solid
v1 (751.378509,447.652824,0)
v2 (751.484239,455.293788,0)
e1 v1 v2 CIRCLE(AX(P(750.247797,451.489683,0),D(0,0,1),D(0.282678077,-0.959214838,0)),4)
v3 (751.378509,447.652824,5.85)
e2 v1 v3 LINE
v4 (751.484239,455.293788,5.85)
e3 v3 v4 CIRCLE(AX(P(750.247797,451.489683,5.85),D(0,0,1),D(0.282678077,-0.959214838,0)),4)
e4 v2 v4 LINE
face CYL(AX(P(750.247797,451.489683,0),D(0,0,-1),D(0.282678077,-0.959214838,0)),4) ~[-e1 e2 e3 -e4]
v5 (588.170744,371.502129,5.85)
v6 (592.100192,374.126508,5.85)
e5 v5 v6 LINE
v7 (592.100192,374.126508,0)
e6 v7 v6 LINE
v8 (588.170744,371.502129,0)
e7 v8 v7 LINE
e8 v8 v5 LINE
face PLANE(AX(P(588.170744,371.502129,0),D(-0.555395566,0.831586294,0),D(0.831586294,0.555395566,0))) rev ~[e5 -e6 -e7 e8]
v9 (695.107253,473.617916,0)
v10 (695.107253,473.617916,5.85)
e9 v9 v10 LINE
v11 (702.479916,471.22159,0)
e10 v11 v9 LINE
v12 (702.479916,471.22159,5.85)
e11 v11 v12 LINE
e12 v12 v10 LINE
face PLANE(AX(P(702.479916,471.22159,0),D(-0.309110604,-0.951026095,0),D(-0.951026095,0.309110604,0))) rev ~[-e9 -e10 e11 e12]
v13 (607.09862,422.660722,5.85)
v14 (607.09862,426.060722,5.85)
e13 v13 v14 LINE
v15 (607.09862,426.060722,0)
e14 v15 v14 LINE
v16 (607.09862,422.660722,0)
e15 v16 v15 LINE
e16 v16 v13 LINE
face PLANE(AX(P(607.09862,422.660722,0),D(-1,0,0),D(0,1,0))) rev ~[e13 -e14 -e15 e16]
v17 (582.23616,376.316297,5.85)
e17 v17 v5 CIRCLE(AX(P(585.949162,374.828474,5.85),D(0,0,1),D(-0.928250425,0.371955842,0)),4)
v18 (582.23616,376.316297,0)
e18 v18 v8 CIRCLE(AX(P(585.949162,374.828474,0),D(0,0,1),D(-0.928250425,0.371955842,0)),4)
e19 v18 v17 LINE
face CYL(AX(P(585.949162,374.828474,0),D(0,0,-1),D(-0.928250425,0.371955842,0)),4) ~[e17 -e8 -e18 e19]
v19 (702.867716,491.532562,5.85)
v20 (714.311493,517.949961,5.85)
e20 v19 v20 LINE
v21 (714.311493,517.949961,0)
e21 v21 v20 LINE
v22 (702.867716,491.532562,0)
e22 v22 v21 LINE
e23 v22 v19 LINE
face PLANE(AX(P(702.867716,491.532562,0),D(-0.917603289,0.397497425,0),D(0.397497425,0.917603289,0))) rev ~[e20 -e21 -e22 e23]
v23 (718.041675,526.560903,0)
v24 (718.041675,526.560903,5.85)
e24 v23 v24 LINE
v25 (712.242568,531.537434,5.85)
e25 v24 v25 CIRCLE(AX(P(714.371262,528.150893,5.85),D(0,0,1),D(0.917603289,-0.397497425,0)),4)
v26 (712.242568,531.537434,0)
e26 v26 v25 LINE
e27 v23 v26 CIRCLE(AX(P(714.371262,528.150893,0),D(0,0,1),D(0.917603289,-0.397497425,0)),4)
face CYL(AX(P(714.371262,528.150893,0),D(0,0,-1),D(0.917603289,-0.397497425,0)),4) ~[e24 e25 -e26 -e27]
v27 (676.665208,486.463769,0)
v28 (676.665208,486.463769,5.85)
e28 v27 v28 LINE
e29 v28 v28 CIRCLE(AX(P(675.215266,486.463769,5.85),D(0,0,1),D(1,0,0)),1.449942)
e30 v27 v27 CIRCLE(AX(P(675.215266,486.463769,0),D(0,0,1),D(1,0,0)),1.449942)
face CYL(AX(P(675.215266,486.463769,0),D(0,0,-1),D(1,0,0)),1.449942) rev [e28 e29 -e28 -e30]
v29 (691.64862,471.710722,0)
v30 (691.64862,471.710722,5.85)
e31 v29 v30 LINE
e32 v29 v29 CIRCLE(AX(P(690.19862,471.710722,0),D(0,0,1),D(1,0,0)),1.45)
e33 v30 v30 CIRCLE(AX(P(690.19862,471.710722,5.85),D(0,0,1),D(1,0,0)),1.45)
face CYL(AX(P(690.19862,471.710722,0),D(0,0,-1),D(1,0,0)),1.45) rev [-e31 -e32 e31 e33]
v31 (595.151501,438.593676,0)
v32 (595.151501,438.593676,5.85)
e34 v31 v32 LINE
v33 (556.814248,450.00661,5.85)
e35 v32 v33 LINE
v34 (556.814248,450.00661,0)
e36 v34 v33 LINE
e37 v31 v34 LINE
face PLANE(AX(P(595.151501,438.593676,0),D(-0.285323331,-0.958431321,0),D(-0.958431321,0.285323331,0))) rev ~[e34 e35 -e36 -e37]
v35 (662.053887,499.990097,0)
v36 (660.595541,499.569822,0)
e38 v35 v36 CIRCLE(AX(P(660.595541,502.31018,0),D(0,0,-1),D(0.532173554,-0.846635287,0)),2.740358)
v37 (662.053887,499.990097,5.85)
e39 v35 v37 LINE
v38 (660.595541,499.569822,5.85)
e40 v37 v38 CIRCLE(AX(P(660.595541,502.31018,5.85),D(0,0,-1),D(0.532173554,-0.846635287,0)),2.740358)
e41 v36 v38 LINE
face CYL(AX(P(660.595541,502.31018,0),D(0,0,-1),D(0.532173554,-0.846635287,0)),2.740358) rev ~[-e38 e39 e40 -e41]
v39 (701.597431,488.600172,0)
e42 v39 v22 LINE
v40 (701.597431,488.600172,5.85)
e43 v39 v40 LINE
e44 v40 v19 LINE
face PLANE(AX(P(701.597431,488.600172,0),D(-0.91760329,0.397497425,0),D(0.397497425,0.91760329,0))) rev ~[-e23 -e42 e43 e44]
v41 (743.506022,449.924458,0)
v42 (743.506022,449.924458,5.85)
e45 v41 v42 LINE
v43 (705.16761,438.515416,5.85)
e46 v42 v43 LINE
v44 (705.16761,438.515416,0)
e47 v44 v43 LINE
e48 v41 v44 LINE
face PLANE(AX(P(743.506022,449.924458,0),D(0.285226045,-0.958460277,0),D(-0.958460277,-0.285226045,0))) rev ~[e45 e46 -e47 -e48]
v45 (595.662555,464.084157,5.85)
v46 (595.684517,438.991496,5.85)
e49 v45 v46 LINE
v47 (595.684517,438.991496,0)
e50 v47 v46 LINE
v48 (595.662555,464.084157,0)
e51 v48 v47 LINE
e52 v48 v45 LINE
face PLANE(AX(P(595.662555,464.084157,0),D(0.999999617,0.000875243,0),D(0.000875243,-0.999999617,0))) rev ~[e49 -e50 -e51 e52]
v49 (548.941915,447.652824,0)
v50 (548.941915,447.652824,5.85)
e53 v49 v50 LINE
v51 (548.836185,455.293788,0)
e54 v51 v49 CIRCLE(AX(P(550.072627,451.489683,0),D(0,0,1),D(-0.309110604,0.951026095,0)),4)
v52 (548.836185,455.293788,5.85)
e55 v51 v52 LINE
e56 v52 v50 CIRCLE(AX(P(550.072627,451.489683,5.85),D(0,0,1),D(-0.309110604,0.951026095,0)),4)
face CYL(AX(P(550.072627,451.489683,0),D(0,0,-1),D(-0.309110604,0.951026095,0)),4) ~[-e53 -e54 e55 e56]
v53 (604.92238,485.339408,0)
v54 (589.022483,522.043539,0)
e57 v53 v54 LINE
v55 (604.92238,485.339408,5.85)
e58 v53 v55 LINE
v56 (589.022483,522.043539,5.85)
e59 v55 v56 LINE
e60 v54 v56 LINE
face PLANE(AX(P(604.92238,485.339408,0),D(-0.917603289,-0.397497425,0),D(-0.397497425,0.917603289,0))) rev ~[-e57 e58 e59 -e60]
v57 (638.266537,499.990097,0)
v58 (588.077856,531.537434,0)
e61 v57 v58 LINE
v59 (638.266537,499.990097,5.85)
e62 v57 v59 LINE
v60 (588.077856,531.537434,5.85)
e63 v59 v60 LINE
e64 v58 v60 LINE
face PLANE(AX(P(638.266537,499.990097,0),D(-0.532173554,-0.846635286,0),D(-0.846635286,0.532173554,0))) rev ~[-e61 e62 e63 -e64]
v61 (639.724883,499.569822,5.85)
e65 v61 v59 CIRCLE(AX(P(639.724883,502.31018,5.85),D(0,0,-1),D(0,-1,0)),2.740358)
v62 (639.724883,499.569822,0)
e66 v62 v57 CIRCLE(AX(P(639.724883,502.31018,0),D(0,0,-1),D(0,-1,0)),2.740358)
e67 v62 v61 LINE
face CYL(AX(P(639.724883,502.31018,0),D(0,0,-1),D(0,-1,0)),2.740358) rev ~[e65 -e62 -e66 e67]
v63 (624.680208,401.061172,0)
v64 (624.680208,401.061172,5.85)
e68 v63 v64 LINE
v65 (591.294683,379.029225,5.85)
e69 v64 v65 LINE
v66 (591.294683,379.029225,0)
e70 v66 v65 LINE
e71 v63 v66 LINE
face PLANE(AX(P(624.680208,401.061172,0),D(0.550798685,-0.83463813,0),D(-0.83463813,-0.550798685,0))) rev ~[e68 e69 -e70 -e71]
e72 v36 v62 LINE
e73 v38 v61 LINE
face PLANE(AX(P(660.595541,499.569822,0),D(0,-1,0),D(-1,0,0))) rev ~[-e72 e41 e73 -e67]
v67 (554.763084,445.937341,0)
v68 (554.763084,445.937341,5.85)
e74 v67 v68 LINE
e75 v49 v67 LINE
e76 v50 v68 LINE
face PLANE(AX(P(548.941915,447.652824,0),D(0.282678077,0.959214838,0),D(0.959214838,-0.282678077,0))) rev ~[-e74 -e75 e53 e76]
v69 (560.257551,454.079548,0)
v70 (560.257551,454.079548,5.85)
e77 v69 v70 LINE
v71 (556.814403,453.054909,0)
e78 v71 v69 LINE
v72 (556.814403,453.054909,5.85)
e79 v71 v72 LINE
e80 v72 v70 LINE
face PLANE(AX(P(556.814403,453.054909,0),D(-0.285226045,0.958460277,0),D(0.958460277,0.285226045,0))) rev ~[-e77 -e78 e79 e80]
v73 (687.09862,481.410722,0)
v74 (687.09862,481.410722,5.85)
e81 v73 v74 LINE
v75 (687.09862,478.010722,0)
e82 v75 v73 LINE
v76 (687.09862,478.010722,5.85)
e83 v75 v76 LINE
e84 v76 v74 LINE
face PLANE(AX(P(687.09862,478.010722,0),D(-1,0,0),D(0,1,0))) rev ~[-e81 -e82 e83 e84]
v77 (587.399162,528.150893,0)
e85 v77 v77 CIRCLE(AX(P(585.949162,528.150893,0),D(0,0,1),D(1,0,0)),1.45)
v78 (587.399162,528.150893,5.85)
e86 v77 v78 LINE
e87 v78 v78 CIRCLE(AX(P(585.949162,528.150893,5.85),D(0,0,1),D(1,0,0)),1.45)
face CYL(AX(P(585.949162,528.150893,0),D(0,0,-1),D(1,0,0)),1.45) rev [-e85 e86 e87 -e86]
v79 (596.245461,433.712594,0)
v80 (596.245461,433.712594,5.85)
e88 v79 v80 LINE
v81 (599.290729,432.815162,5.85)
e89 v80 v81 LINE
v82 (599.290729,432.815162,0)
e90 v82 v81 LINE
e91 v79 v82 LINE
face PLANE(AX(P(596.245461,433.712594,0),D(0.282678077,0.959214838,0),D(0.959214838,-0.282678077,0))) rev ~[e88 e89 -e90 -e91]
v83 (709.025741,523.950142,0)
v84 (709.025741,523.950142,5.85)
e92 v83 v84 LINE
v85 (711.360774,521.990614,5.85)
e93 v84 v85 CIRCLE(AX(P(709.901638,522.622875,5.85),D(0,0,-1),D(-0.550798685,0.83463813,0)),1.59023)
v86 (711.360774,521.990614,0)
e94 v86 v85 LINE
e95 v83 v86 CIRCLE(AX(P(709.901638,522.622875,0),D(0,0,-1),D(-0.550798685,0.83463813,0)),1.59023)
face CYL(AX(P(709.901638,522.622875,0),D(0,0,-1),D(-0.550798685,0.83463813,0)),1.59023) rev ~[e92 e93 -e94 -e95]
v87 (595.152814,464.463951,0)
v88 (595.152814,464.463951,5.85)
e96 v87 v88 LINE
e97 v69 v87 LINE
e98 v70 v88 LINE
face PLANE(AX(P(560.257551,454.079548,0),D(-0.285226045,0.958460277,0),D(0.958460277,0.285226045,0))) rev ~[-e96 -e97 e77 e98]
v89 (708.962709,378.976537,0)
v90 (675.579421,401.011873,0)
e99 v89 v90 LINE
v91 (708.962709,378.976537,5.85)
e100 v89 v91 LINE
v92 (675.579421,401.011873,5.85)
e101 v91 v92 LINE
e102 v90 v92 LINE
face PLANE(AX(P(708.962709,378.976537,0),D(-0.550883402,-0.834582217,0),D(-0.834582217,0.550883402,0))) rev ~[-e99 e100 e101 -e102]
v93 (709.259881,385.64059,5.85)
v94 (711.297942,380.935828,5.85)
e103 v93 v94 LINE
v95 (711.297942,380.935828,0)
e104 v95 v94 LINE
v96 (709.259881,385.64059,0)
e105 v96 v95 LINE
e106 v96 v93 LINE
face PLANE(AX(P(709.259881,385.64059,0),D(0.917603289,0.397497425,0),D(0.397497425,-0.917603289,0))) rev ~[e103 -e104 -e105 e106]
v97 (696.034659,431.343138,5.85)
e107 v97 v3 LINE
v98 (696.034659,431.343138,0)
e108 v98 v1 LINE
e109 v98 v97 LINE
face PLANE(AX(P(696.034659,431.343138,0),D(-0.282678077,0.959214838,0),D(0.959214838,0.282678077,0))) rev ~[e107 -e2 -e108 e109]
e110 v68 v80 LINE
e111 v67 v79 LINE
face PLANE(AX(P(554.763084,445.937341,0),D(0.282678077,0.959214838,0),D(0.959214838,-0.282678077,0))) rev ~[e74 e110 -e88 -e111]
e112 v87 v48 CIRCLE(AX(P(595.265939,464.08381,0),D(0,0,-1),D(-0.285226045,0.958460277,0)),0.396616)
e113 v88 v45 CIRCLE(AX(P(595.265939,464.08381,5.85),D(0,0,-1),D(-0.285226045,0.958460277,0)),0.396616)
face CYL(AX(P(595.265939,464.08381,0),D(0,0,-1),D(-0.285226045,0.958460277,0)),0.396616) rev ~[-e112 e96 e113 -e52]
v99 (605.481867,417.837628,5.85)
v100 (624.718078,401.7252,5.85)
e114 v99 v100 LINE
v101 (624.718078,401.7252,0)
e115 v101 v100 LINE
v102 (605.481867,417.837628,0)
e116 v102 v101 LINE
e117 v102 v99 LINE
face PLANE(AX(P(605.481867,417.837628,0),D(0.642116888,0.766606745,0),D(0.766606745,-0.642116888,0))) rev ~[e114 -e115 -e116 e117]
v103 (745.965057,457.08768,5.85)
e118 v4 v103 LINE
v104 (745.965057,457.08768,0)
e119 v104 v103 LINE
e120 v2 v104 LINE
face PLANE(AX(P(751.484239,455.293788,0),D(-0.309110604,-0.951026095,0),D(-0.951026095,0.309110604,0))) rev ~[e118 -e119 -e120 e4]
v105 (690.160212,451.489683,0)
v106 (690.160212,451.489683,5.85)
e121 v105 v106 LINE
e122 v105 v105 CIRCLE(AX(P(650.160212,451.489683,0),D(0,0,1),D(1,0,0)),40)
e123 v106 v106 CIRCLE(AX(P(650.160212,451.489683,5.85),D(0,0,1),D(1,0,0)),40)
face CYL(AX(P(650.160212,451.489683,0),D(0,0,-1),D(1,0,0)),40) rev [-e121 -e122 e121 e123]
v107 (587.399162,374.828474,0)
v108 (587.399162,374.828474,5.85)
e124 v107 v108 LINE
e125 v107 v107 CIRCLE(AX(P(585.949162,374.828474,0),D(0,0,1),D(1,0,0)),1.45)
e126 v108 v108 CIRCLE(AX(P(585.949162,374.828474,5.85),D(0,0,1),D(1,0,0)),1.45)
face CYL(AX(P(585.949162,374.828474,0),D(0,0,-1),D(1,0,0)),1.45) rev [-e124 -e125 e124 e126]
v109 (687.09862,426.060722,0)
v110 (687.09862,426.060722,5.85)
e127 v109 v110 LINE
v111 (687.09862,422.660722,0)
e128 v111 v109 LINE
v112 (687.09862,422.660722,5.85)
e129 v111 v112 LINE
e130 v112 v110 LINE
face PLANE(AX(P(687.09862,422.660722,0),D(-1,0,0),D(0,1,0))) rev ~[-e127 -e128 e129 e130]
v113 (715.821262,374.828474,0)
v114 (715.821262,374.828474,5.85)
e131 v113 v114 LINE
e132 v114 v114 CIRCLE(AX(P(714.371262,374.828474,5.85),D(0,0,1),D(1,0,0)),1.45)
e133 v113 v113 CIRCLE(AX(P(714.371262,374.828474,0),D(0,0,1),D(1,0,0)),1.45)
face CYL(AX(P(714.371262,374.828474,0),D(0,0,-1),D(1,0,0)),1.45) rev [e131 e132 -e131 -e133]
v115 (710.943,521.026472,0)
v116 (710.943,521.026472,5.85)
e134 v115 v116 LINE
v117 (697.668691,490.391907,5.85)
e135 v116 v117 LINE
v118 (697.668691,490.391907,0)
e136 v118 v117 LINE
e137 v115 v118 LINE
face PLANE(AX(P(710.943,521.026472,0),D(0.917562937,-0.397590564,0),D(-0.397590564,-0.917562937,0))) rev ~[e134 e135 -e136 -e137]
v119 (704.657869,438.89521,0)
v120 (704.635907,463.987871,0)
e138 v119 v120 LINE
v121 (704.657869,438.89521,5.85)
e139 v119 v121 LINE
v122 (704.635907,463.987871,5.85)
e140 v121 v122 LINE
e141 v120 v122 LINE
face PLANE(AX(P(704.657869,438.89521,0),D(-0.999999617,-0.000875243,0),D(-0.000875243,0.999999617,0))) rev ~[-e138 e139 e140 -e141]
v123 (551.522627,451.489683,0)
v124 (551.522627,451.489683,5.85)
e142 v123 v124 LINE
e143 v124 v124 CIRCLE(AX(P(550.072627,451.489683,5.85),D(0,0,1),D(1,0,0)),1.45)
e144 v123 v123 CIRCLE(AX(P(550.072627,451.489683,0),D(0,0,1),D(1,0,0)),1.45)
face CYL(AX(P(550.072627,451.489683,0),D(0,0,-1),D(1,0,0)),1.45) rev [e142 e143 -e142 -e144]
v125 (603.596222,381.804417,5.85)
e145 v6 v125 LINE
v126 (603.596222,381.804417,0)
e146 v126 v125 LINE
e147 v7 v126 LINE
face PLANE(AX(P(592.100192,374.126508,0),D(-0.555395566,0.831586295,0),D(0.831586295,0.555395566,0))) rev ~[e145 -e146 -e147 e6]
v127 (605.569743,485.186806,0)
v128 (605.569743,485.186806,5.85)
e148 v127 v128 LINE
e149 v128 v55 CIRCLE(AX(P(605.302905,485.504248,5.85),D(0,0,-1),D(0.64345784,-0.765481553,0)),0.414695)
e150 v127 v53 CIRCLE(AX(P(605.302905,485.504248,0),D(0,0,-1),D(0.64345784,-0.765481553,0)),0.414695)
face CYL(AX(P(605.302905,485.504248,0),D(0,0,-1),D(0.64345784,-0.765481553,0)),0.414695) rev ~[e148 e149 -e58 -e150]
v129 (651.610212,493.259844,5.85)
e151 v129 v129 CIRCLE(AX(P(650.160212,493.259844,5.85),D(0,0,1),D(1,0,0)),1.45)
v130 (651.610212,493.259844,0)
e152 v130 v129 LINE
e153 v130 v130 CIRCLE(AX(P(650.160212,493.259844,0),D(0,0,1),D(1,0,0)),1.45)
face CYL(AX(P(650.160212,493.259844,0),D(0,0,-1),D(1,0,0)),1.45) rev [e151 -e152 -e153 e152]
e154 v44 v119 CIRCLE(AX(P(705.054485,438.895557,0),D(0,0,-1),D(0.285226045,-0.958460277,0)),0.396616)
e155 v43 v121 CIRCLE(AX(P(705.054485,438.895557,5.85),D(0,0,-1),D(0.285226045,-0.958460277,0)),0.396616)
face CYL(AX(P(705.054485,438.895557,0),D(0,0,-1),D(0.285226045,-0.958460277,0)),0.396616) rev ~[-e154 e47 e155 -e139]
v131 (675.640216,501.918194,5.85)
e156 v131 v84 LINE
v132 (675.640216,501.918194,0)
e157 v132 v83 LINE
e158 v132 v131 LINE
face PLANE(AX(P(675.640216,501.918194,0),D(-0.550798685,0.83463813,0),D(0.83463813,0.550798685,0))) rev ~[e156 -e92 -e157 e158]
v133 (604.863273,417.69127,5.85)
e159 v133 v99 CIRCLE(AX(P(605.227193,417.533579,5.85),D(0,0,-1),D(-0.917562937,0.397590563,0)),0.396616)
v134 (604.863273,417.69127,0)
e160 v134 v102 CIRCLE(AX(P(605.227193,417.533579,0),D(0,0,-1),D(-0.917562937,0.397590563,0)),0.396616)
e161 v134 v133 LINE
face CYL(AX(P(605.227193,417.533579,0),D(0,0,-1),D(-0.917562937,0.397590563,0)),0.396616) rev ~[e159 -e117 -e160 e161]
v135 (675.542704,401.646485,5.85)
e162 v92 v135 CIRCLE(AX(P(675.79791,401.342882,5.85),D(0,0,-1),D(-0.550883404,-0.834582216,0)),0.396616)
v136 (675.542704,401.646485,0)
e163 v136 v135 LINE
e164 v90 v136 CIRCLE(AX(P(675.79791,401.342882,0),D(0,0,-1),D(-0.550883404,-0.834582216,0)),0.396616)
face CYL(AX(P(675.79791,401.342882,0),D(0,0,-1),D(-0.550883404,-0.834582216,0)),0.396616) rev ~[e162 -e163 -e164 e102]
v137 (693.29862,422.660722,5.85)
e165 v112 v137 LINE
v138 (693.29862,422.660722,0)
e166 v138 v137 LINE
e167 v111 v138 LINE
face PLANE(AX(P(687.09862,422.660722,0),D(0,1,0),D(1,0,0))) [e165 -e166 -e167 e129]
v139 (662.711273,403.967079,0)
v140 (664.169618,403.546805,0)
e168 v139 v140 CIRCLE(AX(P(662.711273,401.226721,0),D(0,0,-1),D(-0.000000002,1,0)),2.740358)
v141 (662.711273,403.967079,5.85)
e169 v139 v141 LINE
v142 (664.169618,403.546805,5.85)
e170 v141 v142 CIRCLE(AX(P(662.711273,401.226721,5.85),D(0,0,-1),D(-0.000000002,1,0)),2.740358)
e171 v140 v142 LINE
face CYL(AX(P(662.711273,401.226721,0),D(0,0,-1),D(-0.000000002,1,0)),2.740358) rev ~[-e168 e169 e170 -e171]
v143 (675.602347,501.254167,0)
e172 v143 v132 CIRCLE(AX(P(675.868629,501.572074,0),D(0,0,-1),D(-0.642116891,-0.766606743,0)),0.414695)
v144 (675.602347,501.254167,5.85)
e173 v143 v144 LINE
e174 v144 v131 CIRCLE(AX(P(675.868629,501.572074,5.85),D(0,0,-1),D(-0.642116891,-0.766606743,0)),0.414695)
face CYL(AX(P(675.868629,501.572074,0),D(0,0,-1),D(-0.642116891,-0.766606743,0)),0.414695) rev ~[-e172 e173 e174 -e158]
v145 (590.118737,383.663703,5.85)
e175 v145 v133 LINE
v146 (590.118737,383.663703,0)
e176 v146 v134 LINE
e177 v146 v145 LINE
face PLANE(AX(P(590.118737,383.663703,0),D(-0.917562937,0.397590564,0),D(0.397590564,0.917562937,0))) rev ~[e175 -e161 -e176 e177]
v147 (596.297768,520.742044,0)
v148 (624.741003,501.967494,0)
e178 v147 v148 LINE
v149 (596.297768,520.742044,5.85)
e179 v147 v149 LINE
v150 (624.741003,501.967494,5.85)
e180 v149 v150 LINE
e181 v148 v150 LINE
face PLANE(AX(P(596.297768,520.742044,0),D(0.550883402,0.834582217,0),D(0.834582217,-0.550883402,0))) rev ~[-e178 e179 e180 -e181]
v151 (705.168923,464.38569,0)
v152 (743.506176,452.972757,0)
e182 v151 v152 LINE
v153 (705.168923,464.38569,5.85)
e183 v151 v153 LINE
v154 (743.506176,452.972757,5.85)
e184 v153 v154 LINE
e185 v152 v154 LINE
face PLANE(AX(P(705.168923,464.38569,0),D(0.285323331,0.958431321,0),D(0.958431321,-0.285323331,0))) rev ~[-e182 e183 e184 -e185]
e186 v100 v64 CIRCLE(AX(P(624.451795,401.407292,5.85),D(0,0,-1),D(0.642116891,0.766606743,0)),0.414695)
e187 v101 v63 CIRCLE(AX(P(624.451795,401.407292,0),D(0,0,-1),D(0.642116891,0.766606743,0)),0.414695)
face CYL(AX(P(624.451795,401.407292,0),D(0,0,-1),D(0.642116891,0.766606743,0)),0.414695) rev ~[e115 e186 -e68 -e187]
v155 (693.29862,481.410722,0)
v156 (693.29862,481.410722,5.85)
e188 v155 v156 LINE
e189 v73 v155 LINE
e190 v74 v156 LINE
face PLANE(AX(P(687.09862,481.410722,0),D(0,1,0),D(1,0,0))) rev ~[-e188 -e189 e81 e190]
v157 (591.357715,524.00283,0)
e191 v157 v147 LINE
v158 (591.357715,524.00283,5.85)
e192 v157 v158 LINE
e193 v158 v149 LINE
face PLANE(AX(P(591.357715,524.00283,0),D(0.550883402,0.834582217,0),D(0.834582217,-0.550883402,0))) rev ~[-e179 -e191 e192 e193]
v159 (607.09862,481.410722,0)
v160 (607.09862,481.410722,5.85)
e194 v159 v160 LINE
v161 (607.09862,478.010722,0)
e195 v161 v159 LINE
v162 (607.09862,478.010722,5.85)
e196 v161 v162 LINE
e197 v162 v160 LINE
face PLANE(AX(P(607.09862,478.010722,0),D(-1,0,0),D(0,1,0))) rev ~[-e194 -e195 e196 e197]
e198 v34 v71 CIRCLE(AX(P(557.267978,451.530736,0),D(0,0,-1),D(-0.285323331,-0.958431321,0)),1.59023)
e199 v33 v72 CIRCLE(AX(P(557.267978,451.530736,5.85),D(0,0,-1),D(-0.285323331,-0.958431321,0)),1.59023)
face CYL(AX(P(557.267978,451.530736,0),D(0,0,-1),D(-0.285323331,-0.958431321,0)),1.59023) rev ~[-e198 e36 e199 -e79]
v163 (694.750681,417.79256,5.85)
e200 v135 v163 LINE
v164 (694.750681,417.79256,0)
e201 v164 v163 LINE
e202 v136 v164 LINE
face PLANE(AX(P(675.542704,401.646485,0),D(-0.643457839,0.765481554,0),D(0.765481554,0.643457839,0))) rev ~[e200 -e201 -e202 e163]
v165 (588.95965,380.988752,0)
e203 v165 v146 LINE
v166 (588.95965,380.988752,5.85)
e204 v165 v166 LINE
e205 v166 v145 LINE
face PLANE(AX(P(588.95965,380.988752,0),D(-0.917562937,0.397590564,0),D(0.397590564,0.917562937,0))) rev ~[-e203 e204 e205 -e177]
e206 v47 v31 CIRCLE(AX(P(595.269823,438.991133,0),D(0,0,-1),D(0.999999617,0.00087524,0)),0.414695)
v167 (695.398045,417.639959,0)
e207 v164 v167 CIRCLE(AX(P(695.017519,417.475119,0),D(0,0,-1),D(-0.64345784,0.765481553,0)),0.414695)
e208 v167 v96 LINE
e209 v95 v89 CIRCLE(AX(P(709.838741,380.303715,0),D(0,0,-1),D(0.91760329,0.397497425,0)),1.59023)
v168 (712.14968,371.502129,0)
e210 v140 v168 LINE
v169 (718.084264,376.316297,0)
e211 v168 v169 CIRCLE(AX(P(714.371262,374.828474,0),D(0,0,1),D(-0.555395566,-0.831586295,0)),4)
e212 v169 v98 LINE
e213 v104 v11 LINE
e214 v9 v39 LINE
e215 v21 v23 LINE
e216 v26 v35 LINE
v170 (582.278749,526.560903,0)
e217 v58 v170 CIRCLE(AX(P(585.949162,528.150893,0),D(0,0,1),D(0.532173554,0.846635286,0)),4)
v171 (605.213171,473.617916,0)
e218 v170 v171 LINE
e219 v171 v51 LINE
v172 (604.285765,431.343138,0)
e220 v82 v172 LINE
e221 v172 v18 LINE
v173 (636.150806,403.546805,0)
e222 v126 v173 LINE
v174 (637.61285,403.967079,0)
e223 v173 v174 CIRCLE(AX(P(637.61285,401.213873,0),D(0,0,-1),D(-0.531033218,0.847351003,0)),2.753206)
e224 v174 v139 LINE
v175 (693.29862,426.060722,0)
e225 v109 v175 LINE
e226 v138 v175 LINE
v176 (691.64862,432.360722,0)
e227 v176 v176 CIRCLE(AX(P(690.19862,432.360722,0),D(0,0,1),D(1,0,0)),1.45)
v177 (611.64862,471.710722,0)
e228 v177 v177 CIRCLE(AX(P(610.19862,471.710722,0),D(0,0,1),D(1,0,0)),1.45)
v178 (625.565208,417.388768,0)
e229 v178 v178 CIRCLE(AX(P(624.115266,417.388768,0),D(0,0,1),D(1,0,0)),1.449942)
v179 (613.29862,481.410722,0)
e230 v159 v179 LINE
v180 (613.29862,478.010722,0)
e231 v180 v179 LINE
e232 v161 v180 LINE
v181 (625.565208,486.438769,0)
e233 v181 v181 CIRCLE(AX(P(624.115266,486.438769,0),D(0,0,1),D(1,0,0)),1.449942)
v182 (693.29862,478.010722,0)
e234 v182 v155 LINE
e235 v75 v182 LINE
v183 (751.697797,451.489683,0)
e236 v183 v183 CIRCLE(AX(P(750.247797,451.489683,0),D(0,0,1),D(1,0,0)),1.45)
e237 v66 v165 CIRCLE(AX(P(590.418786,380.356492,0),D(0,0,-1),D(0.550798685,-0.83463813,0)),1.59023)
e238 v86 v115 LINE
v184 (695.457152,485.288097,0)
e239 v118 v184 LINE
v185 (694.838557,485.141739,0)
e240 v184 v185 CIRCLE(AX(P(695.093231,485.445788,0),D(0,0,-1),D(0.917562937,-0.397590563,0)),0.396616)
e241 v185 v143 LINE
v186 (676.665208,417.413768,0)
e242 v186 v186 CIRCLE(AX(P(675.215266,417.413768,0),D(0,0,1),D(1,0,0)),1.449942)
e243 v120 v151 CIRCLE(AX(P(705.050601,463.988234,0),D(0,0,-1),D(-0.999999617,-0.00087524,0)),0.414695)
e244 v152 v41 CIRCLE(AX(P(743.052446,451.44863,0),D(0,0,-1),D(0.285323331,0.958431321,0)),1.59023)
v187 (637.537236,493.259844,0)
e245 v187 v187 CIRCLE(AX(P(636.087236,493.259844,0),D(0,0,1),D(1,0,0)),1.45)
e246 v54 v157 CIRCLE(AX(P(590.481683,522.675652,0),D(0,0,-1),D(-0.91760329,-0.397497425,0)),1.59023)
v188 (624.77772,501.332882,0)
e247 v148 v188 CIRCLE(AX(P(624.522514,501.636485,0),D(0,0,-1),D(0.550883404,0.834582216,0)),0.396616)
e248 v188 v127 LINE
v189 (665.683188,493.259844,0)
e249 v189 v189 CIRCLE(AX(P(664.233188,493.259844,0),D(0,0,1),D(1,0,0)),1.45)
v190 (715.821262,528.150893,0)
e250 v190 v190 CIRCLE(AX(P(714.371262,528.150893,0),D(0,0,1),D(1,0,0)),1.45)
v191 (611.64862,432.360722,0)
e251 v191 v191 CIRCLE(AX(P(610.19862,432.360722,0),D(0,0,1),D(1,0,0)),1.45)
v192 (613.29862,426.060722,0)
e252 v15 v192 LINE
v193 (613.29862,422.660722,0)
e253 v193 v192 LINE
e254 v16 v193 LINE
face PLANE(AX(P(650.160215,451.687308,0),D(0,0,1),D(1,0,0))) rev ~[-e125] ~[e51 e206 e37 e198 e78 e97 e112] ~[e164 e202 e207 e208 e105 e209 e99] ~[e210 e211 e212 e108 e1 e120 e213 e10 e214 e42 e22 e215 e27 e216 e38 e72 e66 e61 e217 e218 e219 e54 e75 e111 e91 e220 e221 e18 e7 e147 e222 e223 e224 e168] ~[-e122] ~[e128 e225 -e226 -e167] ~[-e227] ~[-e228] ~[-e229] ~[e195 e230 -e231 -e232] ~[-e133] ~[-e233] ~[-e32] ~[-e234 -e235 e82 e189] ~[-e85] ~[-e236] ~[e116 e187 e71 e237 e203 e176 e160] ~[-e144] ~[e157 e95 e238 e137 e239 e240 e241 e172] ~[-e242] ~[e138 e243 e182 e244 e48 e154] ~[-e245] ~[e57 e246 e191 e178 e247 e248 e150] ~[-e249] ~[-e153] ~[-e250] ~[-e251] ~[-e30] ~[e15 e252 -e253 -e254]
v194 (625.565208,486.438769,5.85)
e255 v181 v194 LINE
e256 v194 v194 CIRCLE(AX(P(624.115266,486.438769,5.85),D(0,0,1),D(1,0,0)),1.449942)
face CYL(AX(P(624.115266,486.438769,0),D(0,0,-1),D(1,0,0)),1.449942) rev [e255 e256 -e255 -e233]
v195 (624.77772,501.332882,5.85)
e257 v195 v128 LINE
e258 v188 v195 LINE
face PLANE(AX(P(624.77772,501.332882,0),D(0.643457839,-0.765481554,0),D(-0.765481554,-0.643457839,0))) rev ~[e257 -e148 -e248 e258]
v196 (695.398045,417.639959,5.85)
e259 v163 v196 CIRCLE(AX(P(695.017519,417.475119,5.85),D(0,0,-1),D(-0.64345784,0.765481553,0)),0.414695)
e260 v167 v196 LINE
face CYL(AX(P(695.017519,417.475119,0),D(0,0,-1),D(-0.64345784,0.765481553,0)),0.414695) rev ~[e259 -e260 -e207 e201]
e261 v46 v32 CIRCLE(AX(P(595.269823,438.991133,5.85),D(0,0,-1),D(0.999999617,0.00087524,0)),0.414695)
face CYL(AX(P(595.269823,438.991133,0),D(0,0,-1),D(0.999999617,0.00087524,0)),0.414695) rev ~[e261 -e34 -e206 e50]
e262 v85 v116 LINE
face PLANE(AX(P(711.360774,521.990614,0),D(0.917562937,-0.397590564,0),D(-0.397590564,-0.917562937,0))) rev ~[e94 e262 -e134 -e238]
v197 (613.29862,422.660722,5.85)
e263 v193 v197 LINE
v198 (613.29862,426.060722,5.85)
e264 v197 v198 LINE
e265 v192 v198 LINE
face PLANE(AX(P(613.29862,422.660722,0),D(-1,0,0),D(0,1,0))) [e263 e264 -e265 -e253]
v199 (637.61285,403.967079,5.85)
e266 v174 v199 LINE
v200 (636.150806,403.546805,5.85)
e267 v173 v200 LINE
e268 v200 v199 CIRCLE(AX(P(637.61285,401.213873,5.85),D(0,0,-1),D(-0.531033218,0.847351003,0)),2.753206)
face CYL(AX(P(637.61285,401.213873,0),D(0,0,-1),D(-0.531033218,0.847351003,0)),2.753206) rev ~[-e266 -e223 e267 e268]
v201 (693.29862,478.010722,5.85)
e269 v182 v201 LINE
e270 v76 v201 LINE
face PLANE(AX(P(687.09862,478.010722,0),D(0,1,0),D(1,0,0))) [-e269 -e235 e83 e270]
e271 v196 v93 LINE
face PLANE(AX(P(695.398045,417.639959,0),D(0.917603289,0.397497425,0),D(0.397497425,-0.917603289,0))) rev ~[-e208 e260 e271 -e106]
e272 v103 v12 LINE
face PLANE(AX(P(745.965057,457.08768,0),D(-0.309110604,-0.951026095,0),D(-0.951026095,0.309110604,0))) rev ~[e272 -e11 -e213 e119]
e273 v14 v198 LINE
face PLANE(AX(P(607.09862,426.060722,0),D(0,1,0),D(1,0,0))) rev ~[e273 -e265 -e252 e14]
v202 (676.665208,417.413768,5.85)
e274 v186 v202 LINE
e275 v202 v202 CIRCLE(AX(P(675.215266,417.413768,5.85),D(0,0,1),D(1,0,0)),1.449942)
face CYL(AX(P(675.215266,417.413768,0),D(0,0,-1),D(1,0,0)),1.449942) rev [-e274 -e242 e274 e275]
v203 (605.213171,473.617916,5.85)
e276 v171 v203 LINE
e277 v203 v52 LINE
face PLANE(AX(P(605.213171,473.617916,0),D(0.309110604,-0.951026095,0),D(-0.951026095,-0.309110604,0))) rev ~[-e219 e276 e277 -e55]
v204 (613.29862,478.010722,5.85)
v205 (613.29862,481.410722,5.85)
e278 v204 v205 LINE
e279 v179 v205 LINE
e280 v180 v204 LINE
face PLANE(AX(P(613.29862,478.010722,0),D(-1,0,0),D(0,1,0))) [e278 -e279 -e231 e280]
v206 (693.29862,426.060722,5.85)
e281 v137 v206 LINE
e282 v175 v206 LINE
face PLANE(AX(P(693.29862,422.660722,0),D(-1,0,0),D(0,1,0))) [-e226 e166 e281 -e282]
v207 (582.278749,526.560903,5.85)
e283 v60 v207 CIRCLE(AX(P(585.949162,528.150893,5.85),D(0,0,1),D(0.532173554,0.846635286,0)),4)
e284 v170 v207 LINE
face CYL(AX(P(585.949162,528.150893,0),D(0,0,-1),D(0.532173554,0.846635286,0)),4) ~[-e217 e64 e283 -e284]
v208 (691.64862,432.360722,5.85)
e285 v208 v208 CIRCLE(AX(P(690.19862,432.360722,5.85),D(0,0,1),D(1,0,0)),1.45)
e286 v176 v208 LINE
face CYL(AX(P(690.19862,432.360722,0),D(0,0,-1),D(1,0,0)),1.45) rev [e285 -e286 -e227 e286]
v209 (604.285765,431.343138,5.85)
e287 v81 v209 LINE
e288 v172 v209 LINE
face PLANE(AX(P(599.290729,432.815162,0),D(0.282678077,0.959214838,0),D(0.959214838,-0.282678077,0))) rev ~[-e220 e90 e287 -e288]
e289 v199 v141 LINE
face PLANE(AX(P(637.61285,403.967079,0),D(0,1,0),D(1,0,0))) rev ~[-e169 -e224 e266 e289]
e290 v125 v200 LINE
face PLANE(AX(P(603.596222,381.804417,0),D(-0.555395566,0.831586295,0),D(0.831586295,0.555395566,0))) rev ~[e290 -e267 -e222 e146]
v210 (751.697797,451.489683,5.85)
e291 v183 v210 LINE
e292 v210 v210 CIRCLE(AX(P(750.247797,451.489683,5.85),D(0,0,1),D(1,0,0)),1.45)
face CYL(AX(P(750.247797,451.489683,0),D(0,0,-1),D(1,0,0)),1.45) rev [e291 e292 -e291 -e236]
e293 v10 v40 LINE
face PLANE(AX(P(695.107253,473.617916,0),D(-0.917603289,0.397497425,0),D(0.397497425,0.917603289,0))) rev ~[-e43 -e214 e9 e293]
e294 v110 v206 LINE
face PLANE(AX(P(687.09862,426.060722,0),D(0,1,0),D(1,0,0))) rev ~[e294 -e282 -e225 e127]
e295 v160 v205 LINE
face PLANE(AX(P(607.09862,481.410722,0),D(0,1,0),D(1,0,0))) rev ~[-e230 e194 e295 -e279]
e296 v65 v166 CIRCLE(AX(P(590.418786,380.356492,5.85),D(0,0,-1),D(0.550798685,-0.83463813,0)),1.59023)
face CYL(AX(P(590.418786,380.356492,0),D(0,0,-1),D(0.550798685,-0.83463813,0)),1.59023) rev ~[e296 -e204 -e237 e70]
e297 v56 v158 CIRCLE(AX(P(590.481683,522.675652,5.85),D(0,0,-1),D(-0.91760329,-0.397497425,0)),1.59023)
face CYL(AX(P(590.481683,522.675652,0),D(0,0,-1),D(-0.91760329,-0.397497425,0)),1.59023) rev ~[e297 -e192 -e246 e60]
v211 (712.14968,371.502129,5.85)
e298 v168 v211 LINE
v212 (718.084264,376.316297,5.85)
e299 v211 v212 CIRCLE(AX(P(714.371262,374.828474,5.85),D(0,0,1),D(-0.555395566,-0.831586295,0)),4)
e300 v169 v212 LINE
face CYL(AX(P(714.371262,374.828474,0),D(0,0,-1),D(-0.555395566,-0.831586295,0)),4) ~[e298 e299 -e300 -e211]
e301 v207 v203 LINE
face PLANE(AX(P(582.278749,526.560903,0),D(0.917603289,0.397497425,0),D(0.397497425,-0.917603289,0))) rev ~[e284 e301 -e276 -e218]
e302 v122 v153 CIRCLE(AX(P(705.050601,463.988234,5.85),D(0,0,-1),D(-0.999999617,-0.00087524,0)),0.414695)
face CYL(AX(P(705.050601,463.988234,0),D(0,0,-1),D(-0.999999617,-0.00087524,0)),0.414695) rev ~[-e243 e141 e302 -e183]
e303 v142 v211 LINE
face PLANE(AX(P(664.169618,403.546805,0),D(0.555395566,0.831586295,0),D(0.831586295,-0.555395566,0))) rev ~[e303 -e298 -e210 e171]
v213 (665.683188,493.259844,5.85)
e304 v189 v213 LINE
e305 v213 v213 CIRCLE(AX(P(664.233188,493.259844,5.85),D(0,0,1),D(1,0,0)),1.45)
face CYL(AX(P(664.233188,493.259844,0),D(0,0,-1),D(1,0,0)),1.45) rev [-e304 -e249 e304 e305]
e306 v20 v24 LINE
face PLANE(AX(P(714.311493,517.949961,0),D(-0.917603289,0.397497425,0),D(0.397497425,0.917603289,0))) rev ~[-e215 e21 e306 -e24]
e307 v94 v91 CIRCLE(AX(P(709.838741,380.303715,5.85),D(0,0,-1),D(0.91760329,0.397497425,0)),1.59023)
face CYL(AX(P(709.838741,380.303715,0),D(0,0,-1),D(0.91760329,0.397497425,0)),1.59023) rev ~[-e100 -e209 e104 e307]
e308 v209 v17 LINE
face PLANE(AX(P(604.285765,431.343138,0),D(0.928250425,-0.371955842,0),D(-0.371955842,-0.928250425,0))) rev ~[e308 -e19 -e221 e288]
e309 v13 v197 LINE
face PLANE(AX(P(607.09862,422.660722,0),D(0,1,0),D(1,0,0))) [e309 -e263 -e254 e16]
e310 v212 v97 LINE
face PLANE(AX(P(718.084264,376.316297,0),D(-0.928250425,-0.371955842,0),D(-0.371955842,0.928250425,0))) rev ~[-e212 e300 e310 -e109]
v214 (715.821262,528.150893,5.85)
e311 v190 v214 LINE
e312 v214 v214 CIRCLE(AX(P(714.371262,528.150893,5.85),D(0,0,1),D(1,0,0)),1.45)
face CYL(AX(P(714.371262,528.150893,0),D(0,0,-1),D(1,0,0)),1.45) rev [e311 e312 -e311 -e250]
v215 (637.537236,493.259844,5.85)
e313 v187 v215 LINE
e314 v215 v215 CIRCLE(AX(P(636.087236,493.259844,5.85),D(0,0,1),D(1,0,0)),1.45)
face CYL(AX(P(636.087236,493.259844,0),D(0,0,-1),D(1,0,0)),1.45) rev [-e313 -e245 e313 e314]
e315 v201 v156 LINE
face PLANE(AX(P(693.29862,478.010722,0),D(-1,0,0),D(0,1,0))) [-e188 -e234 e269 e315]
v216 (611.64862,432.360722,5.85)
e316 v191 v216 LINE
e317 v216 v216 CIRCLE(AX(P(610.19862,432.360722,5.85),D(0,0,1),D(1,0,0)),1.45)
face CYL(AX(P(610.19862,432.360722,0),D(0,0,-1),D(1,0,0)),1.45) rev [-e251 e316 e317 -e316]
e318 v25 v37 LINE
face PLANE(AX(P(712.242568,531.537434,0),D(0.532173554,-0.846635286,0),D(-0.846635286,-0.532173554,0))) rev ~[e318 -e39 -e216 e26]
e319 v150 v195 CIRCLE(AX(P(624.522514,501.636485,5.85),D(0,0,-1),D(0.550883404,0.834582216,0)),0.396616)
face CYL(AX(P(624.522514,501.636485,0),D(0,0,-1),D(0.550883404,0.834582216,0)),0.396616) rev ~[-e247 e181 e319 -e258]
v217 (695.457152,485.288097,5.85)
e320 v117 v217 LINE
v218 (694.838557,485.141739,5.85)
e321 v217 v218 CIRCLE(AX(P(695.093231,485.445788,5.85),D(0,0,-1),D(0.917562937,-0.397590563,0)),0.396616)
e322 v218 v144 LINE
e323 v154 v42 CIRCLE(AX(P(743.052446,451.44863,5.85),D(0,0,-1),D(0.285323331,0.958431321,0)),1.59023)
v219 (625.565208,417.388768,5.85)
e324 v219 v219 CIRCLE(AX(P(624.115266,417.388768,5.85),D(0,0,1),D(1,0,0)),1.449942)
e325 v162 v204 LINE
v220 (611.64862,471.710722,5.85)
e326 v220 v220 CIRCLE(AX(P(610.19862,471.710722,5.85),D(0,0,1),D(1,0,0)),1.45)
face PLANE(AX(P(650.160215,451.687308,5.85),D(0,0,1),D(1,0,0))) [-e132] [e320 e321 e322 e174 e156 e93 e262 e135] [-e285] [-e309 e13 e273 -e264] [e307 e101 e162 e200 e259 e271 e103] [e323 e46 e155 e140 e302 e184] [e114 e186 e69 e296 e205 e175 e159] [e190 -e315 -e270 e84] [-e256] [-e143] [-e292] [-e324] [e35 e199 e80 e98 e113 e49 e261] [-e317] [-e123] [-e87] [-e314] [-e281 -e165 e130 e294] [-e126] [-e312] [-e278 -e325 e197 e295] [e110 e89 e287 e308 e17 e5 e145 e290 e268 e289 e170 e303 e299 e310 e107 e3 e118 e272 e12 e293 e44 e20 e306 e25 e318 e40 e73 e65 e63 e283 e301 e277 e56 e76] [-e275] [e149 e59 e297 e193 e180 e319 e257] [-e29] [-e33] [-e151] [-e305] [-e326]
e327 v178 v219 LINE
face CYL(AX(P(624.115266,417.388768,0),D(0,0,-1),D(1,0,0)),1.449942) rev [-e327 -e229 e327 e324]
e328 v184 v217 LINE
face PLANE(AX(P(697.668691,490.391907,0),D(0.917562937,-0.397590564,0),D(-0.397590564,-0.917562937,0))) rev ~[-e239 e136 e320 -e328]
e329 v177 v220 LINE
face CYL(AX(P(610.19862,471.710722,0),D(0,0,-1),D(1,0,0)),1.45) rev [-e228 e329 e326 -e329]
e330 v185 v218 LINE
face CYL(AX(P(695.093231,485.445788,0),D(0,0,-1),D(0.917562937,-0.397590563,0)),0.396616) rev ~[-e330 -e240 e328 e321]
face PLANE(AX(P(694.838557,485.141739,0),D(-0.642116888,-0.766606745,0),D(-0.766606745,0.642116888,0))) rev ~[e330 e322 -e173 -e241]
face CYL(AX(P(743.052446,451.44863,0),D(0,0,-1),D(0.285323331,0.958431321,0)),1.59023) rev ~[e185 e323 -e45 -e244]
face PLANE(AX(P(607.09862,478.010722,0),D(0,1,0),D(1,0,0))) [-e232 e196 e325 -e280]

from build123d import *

# Parameters (mm, degrees)
SKETCH1_R            = 1.450000006
SKETCH1_R_2          = 1.449941928
SKETCH1_W            = 6.2
SKETCH1_H            = 3.4
SKETCH1_R_3          = 1.450000003
SKETCH1_R_4          = 40
SKETCH1_R_5          = 1.45
BOSS_EXTRUDE11_DEPTH = 5.85


with BuildPart() as part:
    # Sketch1 → Boss-Extrude11 (new body)
    with BuildSketch(Plane.XY):
        with BuildLine():
            ThreePointArc((639.724883257, 499.569822456), (638.966034957, 499.676986361), (638.266537412, 499.990096614))
            Line((638.266537412, 499.990096614), (588.077856055, 531.537433899))
            ThreePointArc((588.077856055, 531.537433899), (583.344226303, 531.18640109), (582.27874868, 526.560903053))
            Line((582.27874868, 526.560903053), (605.213170633, 473.617916038))
            Line((605.213170633, 473.617916038), (548.836184659, 455.29378772))
            ThreePointArc((548.836184659, 455.29378772), (546.073009962, 451.434339541), (548.941914767, 447.652823988))
            Line((548.941914767, 447.652823988), (554.763084266, 445.937340724))
            Line((554.763084266, 445.937340724), (596.245460931, 433.712593969))
            Line((596.245460931, 433.712593969), (599.290728508, 432.815161663))
            Line((599.290728508, 432.815161663), (604.285764635, 431.343137719))
            Line((604.285764635, 431.343137719), (582.236160138, 376.31629729))
            ThreePointArc((582.236160138, 376.31629729), (583.429213887, 371.72205117), (588.170744102, 371.502128745))
            Line((588.170744102, 371.502128745), (592.100192099, 374.12650821))
            Line((592.100192099, 374.12650821), (603.596221534, 381.804417066))
            Line((603.596221534, 381.804417066), (636.150805744, 403.546804888))
            ThreePointArc((636.150805744, 403.546804888), (636.852224463, 403.859925316), (637.612849666, 403.967079047))
            Line((637.612849666, 403.967079047), (662.711272535, 403.967079047))
            ThreePointArc((662.711272535, 403.967079047), (663.470120836, 403.859915142), (664.16961838, 403.546804888))
            Line((664.16961838, 403.546804888), (712.149680023, 371.502128745))
            ThreePointArc((712.149680023, 371.502128745), (716.891210238, 371.72205117), (718.084263987, 376.31629729))
            Line((718.084263987, 376.31629729), (696.03465949, 431.343137719))
            Line((696.03465949, 431.343137719), (751.378509358, 447.652823988))
            ThreePointArc((751.378509358, 447.652823988), (754.247414163, 451.434339541), (751.484239466, 455.29378772))
            Line((751.484239466, 455.29378772), (745.965056767, 457.087679505))
            Line((745.965056767, 457.087679505), (702.479915956, 471.221590468))
            Line((702.479915956, 471.221590468), (695.107253492, 473.617916038))
            Line((695.107253492, 473.617916038), (701.597430802, 488.600171695))
            Line((701.597430802, 488.600171695), (702.867715773, 491.532562182))
            Line((702.867715773, 491.532562182), (714.311493474, 517.949961123))
            Line((714.311493474, 517.949961123), (718.041675445, 526.560903053))
            ThreePointArc((718.041675445, 526.560903053), (716.976197822, 531.18640109), (712.24256807, 531.537433899))
            Line((712.24256807, 531.537433899), (662.053886713, 499.990096614))
            ThreePointArc((662.053886713, 499.990096614), (661.354389168, 499.676986361), (660.595540868, 499.569822456))
            Line((660.595540868, 499.569822456), (639.724883257, 499.569822456))
        make_face()
        with Locations((585.949161838, 374.828473923)):
            Circle(SKETCH1_R, mode=Mode.SUBTRACT)
        with BuildLine():
            Line((624.68020842, 401.06117225), (591.294683214, 379.029224839))
            ThreePointArc((591.294683214, 379.029224839), (589.396544209, 379.138356483), (588.959649961, 380.988752337))
            Line((588.959649961, 380.988752337), (590.118736999, 383.663703413))
            Line((590.118736999, 383.663703413), (604.863272518, 417.69126982))
            ThreePointArc((604.863272518, 417.69126982), (605.13587571, 417.91953965), (605.481867106, 417.837627687))
            Line((605.481867106, 417.837627687), (624.718077603, 401.725200151))
            ThreePointArc((624.718077603, 401.725200151), (624.865817134, 401.383680858), (624.68020842, 401.06117225))
        make_face(mode=Mode.SUBTRACT)
        with Locations((624.115265697, 417.388768355)):
            Circle(SKETCH1_R_2, mode=Mode.SUBTRACT)
        with Locations((610.19862014, 424.360721889)):
            Rectangle(SKETCH1_W, SKETCH1_H, mode=Mode.SUBTRACT)
        with Locations((610.19862014, 432.360721889)):
            Circle(SKETCH1_R_3, mode=Mode.SUBTRACT)
        with Locations((650.160212062, 451.489683338)):
            Circle(SKETCH1_R_4, mode=Mode.SUBTRACT)
        with BuildLine():
            ThreePointArc((694.750680645, 417.792560251), (695.112666193, 417.878751085), (695.398044556, 417.639959152))
            Line((695.398044556, 417.639959152), (709.259881072, 385.64059016))
            Line((709.259881072, 385.64059016), (711.297941568, 380.935827572))
            ThreePointArc((711.297941568, 380.935827572), (710.860859499, 379.085476074), (708.962709426, 378.9765371))
            Line((708.962709426, 378.9765371), (675.579420729, 401.011873172))
            ThreePointArc((675.579420729, 401.011873172), (675.401955879, 401.319973549), (675.54270419, 401.646484695))
            Line((675.54270419, 401.646484695), (694.750680645, 417.792560251))
        make_face(mode=Mode.SUBTRACT)
        with Locations((714.371262287, 374.828473923)):
            Circle(SKETCH1_R, mode=Mode.SUBTRACT)
        with Locations((675.215266265, 417.413768355)):
            Circle(SKETCH1_R_2, mode=Mode.SUBTRACT)
        with Locations((690.19862014, 424.360721889)):
            Rectangle(SKETCH1_W, SKETCH1_H, mode=Mode.SUBTRACT)
        with Locations((690.19862014, 432.360721889)):
            Circle(SKETCH1_R_3, mode=Mode.SUBTRACT)
        with BuildLine():
            Line((704.657868853, 438.89520987), (704.635906667, 463.98787081))
            ThreePointArc((704.635906667, 463.98787081), (704.802560484, 464.320570227), (705.168923392, 464.38569024))
            Line((705.168923392, 464.38569024), (743.506176223, 452.972756989))
            ThreePointArc((743.506176223, 452.972756989), (744.642676768, 451.448549682), (743.506021515, 449.924457744))
            Line((743.506021515, 449.924457744), (705.167610421, 438.515415947))
            ThreePointArc((705.167610421, 438.515415947), (704.817519632, 438.577513089), (704.657868853, 438.89520987))
        make_face(mode=Mode.SUBTRACT)
        with Locations((750.247797049, 451.489683338)):
            Circle(SKETCH1_R, mode=Mode.SUBTRACT)
        with Locations((550.072627076, 451.489683338)):
            Circle(SKETCH1_R, mode=Mode.SUBTRACT)
        with BuildLine():
            Line((595.662555272, 464.084156807), (595.684517458, 438.991495867))
            ThreePointArc((595.684517458, 438.991495867), (595.517863641, 438.65879645), (595.151500732, 438.593676437))
            Line((595.151500732, 438.593676437), (556.814247902, 450.006609688))
            ThreePointArc((556.814247902, 450.006609688), (555.677747357, 451.530816994), (556.81440261, 453.054908933))
            Line((556.81440261, 453.054908933), (560.257551409, 454.079547864))
            Line((560.257551409, 454.079547864), (595.152813704, 464.46395073))
            ThreePointArc((595.152813704, 464.46395073), (595.502904493, 464.401853588), (595.662555272, 464.084156807))
        make_face(mode=Mode.SUBTRACT)
        with Locations((610.19862014, 471.710721889)):
            Circle(SKETCH1_R_3, mode=Mode.SUBTRACT)
        with Locations((610.19862014, 479.710721889)):
            Rectangle(SKETCH1_W, SKETCH1_H, mode=Mode.SUBTRACT)
        with Locations((624.115265697, 486.43876853)):
            Circle(SKETCH1_R_2, mode=Mode.SUBTRACT)
        with Locations((585.949161838, 528.150892754)):
            Circle(SKETCH1_R, mode=Mode.SUBTRACT)
        with BuildLine():
            Line((604.922379569, 485.339407525), (589.022482557, 522.043539105))
            ThreePointArc((589.022482557, 522.043539105), (589.459564626, 523.893890603), (591.357714699, 524.002829577))
            Line((591.357714699, 524.002829577), (596.297768126, 520.742044264))
            Line((596.297768126, 520.742044264), (624.741003396, 501.967493505))
            ThreePointArc((624.741003396, 501.967493505), (624.918468246, 501.659393128), (624.777719935, 501.332881982))
            Line((624.777719935, 501.332881982), (605.56974348, 485.186806426))
            ThreePointArc((605.56974348, 485.186806426), (605.207757932, 485.100615592), (604.922379569, 485.339407525))
        make_face(mode=Mode.SUBTRACT)
        with Locations((636.087236238, 493.259844204)):
            Circle(SKETCH1_R_5, mode=Mode.SUBTRACT)
        with Locations((650.160212062, 493.259844204)):
            Circle(SKETCH1_R_5, mode=Mode.SUBTRACT)
        with Locations((675.215266265, 486.46376853)):
            Circle(SKETCH1_R_2, mode=Mode.SUBTRACT)
        with Locations((690.19862014, 471.710721889)):
            Circle(SKETCH1_R_3, mode=Mode.SUBTRACT)
        with Locations((690.19862014, 479.710721889)):
            Rectangle(SKETCH1_W, SKETCH1_H, mode=Mode.SUBTRACT)
        with Locations((664.233187887, 493.259844204)):
            Circle(SKETCH1_R_5, mode=Mode.SUBTRACT)
        with BuildLine():
            ThreePointArc((709.025740911, 523.950141838), (710.923879916, 523.841010194), (711.360774164, 521.99061434))
            Line((711.360774164, 521.99061434), (710.94300028, 521.026472162))
            Line((710.94300028, 521.026472162), (697.668691106, 490.391906812))
            Line((697.668691106, 490.391906812), (695.457151607, 485.288096857))
            ThreePointArc((695.457151607, 485.288096857), (695.184548415, 485.059827027), (694.838557019, 485.14173899))
            Line((694.838557019, 485.14173899), (675.602346522, 501.254166526))
            ThreePointArc((675.602346522, 501.254166526), (675.454606991, 501.595685819), (675.640215705, 501.918194427))
            Line((675.640215705, 501.918194427), (709.025740911, 523.950141838))
        make_face(mode=Mode.SUBTRACT)
        with Locations((714.371262287, 528.150892754)):
            Circle(SKETCH1_R, mode=Mode.SUBTRACT)
    extrude(amount=BOSS_EXTRUDE11_DEPTH)


solid = part.part
